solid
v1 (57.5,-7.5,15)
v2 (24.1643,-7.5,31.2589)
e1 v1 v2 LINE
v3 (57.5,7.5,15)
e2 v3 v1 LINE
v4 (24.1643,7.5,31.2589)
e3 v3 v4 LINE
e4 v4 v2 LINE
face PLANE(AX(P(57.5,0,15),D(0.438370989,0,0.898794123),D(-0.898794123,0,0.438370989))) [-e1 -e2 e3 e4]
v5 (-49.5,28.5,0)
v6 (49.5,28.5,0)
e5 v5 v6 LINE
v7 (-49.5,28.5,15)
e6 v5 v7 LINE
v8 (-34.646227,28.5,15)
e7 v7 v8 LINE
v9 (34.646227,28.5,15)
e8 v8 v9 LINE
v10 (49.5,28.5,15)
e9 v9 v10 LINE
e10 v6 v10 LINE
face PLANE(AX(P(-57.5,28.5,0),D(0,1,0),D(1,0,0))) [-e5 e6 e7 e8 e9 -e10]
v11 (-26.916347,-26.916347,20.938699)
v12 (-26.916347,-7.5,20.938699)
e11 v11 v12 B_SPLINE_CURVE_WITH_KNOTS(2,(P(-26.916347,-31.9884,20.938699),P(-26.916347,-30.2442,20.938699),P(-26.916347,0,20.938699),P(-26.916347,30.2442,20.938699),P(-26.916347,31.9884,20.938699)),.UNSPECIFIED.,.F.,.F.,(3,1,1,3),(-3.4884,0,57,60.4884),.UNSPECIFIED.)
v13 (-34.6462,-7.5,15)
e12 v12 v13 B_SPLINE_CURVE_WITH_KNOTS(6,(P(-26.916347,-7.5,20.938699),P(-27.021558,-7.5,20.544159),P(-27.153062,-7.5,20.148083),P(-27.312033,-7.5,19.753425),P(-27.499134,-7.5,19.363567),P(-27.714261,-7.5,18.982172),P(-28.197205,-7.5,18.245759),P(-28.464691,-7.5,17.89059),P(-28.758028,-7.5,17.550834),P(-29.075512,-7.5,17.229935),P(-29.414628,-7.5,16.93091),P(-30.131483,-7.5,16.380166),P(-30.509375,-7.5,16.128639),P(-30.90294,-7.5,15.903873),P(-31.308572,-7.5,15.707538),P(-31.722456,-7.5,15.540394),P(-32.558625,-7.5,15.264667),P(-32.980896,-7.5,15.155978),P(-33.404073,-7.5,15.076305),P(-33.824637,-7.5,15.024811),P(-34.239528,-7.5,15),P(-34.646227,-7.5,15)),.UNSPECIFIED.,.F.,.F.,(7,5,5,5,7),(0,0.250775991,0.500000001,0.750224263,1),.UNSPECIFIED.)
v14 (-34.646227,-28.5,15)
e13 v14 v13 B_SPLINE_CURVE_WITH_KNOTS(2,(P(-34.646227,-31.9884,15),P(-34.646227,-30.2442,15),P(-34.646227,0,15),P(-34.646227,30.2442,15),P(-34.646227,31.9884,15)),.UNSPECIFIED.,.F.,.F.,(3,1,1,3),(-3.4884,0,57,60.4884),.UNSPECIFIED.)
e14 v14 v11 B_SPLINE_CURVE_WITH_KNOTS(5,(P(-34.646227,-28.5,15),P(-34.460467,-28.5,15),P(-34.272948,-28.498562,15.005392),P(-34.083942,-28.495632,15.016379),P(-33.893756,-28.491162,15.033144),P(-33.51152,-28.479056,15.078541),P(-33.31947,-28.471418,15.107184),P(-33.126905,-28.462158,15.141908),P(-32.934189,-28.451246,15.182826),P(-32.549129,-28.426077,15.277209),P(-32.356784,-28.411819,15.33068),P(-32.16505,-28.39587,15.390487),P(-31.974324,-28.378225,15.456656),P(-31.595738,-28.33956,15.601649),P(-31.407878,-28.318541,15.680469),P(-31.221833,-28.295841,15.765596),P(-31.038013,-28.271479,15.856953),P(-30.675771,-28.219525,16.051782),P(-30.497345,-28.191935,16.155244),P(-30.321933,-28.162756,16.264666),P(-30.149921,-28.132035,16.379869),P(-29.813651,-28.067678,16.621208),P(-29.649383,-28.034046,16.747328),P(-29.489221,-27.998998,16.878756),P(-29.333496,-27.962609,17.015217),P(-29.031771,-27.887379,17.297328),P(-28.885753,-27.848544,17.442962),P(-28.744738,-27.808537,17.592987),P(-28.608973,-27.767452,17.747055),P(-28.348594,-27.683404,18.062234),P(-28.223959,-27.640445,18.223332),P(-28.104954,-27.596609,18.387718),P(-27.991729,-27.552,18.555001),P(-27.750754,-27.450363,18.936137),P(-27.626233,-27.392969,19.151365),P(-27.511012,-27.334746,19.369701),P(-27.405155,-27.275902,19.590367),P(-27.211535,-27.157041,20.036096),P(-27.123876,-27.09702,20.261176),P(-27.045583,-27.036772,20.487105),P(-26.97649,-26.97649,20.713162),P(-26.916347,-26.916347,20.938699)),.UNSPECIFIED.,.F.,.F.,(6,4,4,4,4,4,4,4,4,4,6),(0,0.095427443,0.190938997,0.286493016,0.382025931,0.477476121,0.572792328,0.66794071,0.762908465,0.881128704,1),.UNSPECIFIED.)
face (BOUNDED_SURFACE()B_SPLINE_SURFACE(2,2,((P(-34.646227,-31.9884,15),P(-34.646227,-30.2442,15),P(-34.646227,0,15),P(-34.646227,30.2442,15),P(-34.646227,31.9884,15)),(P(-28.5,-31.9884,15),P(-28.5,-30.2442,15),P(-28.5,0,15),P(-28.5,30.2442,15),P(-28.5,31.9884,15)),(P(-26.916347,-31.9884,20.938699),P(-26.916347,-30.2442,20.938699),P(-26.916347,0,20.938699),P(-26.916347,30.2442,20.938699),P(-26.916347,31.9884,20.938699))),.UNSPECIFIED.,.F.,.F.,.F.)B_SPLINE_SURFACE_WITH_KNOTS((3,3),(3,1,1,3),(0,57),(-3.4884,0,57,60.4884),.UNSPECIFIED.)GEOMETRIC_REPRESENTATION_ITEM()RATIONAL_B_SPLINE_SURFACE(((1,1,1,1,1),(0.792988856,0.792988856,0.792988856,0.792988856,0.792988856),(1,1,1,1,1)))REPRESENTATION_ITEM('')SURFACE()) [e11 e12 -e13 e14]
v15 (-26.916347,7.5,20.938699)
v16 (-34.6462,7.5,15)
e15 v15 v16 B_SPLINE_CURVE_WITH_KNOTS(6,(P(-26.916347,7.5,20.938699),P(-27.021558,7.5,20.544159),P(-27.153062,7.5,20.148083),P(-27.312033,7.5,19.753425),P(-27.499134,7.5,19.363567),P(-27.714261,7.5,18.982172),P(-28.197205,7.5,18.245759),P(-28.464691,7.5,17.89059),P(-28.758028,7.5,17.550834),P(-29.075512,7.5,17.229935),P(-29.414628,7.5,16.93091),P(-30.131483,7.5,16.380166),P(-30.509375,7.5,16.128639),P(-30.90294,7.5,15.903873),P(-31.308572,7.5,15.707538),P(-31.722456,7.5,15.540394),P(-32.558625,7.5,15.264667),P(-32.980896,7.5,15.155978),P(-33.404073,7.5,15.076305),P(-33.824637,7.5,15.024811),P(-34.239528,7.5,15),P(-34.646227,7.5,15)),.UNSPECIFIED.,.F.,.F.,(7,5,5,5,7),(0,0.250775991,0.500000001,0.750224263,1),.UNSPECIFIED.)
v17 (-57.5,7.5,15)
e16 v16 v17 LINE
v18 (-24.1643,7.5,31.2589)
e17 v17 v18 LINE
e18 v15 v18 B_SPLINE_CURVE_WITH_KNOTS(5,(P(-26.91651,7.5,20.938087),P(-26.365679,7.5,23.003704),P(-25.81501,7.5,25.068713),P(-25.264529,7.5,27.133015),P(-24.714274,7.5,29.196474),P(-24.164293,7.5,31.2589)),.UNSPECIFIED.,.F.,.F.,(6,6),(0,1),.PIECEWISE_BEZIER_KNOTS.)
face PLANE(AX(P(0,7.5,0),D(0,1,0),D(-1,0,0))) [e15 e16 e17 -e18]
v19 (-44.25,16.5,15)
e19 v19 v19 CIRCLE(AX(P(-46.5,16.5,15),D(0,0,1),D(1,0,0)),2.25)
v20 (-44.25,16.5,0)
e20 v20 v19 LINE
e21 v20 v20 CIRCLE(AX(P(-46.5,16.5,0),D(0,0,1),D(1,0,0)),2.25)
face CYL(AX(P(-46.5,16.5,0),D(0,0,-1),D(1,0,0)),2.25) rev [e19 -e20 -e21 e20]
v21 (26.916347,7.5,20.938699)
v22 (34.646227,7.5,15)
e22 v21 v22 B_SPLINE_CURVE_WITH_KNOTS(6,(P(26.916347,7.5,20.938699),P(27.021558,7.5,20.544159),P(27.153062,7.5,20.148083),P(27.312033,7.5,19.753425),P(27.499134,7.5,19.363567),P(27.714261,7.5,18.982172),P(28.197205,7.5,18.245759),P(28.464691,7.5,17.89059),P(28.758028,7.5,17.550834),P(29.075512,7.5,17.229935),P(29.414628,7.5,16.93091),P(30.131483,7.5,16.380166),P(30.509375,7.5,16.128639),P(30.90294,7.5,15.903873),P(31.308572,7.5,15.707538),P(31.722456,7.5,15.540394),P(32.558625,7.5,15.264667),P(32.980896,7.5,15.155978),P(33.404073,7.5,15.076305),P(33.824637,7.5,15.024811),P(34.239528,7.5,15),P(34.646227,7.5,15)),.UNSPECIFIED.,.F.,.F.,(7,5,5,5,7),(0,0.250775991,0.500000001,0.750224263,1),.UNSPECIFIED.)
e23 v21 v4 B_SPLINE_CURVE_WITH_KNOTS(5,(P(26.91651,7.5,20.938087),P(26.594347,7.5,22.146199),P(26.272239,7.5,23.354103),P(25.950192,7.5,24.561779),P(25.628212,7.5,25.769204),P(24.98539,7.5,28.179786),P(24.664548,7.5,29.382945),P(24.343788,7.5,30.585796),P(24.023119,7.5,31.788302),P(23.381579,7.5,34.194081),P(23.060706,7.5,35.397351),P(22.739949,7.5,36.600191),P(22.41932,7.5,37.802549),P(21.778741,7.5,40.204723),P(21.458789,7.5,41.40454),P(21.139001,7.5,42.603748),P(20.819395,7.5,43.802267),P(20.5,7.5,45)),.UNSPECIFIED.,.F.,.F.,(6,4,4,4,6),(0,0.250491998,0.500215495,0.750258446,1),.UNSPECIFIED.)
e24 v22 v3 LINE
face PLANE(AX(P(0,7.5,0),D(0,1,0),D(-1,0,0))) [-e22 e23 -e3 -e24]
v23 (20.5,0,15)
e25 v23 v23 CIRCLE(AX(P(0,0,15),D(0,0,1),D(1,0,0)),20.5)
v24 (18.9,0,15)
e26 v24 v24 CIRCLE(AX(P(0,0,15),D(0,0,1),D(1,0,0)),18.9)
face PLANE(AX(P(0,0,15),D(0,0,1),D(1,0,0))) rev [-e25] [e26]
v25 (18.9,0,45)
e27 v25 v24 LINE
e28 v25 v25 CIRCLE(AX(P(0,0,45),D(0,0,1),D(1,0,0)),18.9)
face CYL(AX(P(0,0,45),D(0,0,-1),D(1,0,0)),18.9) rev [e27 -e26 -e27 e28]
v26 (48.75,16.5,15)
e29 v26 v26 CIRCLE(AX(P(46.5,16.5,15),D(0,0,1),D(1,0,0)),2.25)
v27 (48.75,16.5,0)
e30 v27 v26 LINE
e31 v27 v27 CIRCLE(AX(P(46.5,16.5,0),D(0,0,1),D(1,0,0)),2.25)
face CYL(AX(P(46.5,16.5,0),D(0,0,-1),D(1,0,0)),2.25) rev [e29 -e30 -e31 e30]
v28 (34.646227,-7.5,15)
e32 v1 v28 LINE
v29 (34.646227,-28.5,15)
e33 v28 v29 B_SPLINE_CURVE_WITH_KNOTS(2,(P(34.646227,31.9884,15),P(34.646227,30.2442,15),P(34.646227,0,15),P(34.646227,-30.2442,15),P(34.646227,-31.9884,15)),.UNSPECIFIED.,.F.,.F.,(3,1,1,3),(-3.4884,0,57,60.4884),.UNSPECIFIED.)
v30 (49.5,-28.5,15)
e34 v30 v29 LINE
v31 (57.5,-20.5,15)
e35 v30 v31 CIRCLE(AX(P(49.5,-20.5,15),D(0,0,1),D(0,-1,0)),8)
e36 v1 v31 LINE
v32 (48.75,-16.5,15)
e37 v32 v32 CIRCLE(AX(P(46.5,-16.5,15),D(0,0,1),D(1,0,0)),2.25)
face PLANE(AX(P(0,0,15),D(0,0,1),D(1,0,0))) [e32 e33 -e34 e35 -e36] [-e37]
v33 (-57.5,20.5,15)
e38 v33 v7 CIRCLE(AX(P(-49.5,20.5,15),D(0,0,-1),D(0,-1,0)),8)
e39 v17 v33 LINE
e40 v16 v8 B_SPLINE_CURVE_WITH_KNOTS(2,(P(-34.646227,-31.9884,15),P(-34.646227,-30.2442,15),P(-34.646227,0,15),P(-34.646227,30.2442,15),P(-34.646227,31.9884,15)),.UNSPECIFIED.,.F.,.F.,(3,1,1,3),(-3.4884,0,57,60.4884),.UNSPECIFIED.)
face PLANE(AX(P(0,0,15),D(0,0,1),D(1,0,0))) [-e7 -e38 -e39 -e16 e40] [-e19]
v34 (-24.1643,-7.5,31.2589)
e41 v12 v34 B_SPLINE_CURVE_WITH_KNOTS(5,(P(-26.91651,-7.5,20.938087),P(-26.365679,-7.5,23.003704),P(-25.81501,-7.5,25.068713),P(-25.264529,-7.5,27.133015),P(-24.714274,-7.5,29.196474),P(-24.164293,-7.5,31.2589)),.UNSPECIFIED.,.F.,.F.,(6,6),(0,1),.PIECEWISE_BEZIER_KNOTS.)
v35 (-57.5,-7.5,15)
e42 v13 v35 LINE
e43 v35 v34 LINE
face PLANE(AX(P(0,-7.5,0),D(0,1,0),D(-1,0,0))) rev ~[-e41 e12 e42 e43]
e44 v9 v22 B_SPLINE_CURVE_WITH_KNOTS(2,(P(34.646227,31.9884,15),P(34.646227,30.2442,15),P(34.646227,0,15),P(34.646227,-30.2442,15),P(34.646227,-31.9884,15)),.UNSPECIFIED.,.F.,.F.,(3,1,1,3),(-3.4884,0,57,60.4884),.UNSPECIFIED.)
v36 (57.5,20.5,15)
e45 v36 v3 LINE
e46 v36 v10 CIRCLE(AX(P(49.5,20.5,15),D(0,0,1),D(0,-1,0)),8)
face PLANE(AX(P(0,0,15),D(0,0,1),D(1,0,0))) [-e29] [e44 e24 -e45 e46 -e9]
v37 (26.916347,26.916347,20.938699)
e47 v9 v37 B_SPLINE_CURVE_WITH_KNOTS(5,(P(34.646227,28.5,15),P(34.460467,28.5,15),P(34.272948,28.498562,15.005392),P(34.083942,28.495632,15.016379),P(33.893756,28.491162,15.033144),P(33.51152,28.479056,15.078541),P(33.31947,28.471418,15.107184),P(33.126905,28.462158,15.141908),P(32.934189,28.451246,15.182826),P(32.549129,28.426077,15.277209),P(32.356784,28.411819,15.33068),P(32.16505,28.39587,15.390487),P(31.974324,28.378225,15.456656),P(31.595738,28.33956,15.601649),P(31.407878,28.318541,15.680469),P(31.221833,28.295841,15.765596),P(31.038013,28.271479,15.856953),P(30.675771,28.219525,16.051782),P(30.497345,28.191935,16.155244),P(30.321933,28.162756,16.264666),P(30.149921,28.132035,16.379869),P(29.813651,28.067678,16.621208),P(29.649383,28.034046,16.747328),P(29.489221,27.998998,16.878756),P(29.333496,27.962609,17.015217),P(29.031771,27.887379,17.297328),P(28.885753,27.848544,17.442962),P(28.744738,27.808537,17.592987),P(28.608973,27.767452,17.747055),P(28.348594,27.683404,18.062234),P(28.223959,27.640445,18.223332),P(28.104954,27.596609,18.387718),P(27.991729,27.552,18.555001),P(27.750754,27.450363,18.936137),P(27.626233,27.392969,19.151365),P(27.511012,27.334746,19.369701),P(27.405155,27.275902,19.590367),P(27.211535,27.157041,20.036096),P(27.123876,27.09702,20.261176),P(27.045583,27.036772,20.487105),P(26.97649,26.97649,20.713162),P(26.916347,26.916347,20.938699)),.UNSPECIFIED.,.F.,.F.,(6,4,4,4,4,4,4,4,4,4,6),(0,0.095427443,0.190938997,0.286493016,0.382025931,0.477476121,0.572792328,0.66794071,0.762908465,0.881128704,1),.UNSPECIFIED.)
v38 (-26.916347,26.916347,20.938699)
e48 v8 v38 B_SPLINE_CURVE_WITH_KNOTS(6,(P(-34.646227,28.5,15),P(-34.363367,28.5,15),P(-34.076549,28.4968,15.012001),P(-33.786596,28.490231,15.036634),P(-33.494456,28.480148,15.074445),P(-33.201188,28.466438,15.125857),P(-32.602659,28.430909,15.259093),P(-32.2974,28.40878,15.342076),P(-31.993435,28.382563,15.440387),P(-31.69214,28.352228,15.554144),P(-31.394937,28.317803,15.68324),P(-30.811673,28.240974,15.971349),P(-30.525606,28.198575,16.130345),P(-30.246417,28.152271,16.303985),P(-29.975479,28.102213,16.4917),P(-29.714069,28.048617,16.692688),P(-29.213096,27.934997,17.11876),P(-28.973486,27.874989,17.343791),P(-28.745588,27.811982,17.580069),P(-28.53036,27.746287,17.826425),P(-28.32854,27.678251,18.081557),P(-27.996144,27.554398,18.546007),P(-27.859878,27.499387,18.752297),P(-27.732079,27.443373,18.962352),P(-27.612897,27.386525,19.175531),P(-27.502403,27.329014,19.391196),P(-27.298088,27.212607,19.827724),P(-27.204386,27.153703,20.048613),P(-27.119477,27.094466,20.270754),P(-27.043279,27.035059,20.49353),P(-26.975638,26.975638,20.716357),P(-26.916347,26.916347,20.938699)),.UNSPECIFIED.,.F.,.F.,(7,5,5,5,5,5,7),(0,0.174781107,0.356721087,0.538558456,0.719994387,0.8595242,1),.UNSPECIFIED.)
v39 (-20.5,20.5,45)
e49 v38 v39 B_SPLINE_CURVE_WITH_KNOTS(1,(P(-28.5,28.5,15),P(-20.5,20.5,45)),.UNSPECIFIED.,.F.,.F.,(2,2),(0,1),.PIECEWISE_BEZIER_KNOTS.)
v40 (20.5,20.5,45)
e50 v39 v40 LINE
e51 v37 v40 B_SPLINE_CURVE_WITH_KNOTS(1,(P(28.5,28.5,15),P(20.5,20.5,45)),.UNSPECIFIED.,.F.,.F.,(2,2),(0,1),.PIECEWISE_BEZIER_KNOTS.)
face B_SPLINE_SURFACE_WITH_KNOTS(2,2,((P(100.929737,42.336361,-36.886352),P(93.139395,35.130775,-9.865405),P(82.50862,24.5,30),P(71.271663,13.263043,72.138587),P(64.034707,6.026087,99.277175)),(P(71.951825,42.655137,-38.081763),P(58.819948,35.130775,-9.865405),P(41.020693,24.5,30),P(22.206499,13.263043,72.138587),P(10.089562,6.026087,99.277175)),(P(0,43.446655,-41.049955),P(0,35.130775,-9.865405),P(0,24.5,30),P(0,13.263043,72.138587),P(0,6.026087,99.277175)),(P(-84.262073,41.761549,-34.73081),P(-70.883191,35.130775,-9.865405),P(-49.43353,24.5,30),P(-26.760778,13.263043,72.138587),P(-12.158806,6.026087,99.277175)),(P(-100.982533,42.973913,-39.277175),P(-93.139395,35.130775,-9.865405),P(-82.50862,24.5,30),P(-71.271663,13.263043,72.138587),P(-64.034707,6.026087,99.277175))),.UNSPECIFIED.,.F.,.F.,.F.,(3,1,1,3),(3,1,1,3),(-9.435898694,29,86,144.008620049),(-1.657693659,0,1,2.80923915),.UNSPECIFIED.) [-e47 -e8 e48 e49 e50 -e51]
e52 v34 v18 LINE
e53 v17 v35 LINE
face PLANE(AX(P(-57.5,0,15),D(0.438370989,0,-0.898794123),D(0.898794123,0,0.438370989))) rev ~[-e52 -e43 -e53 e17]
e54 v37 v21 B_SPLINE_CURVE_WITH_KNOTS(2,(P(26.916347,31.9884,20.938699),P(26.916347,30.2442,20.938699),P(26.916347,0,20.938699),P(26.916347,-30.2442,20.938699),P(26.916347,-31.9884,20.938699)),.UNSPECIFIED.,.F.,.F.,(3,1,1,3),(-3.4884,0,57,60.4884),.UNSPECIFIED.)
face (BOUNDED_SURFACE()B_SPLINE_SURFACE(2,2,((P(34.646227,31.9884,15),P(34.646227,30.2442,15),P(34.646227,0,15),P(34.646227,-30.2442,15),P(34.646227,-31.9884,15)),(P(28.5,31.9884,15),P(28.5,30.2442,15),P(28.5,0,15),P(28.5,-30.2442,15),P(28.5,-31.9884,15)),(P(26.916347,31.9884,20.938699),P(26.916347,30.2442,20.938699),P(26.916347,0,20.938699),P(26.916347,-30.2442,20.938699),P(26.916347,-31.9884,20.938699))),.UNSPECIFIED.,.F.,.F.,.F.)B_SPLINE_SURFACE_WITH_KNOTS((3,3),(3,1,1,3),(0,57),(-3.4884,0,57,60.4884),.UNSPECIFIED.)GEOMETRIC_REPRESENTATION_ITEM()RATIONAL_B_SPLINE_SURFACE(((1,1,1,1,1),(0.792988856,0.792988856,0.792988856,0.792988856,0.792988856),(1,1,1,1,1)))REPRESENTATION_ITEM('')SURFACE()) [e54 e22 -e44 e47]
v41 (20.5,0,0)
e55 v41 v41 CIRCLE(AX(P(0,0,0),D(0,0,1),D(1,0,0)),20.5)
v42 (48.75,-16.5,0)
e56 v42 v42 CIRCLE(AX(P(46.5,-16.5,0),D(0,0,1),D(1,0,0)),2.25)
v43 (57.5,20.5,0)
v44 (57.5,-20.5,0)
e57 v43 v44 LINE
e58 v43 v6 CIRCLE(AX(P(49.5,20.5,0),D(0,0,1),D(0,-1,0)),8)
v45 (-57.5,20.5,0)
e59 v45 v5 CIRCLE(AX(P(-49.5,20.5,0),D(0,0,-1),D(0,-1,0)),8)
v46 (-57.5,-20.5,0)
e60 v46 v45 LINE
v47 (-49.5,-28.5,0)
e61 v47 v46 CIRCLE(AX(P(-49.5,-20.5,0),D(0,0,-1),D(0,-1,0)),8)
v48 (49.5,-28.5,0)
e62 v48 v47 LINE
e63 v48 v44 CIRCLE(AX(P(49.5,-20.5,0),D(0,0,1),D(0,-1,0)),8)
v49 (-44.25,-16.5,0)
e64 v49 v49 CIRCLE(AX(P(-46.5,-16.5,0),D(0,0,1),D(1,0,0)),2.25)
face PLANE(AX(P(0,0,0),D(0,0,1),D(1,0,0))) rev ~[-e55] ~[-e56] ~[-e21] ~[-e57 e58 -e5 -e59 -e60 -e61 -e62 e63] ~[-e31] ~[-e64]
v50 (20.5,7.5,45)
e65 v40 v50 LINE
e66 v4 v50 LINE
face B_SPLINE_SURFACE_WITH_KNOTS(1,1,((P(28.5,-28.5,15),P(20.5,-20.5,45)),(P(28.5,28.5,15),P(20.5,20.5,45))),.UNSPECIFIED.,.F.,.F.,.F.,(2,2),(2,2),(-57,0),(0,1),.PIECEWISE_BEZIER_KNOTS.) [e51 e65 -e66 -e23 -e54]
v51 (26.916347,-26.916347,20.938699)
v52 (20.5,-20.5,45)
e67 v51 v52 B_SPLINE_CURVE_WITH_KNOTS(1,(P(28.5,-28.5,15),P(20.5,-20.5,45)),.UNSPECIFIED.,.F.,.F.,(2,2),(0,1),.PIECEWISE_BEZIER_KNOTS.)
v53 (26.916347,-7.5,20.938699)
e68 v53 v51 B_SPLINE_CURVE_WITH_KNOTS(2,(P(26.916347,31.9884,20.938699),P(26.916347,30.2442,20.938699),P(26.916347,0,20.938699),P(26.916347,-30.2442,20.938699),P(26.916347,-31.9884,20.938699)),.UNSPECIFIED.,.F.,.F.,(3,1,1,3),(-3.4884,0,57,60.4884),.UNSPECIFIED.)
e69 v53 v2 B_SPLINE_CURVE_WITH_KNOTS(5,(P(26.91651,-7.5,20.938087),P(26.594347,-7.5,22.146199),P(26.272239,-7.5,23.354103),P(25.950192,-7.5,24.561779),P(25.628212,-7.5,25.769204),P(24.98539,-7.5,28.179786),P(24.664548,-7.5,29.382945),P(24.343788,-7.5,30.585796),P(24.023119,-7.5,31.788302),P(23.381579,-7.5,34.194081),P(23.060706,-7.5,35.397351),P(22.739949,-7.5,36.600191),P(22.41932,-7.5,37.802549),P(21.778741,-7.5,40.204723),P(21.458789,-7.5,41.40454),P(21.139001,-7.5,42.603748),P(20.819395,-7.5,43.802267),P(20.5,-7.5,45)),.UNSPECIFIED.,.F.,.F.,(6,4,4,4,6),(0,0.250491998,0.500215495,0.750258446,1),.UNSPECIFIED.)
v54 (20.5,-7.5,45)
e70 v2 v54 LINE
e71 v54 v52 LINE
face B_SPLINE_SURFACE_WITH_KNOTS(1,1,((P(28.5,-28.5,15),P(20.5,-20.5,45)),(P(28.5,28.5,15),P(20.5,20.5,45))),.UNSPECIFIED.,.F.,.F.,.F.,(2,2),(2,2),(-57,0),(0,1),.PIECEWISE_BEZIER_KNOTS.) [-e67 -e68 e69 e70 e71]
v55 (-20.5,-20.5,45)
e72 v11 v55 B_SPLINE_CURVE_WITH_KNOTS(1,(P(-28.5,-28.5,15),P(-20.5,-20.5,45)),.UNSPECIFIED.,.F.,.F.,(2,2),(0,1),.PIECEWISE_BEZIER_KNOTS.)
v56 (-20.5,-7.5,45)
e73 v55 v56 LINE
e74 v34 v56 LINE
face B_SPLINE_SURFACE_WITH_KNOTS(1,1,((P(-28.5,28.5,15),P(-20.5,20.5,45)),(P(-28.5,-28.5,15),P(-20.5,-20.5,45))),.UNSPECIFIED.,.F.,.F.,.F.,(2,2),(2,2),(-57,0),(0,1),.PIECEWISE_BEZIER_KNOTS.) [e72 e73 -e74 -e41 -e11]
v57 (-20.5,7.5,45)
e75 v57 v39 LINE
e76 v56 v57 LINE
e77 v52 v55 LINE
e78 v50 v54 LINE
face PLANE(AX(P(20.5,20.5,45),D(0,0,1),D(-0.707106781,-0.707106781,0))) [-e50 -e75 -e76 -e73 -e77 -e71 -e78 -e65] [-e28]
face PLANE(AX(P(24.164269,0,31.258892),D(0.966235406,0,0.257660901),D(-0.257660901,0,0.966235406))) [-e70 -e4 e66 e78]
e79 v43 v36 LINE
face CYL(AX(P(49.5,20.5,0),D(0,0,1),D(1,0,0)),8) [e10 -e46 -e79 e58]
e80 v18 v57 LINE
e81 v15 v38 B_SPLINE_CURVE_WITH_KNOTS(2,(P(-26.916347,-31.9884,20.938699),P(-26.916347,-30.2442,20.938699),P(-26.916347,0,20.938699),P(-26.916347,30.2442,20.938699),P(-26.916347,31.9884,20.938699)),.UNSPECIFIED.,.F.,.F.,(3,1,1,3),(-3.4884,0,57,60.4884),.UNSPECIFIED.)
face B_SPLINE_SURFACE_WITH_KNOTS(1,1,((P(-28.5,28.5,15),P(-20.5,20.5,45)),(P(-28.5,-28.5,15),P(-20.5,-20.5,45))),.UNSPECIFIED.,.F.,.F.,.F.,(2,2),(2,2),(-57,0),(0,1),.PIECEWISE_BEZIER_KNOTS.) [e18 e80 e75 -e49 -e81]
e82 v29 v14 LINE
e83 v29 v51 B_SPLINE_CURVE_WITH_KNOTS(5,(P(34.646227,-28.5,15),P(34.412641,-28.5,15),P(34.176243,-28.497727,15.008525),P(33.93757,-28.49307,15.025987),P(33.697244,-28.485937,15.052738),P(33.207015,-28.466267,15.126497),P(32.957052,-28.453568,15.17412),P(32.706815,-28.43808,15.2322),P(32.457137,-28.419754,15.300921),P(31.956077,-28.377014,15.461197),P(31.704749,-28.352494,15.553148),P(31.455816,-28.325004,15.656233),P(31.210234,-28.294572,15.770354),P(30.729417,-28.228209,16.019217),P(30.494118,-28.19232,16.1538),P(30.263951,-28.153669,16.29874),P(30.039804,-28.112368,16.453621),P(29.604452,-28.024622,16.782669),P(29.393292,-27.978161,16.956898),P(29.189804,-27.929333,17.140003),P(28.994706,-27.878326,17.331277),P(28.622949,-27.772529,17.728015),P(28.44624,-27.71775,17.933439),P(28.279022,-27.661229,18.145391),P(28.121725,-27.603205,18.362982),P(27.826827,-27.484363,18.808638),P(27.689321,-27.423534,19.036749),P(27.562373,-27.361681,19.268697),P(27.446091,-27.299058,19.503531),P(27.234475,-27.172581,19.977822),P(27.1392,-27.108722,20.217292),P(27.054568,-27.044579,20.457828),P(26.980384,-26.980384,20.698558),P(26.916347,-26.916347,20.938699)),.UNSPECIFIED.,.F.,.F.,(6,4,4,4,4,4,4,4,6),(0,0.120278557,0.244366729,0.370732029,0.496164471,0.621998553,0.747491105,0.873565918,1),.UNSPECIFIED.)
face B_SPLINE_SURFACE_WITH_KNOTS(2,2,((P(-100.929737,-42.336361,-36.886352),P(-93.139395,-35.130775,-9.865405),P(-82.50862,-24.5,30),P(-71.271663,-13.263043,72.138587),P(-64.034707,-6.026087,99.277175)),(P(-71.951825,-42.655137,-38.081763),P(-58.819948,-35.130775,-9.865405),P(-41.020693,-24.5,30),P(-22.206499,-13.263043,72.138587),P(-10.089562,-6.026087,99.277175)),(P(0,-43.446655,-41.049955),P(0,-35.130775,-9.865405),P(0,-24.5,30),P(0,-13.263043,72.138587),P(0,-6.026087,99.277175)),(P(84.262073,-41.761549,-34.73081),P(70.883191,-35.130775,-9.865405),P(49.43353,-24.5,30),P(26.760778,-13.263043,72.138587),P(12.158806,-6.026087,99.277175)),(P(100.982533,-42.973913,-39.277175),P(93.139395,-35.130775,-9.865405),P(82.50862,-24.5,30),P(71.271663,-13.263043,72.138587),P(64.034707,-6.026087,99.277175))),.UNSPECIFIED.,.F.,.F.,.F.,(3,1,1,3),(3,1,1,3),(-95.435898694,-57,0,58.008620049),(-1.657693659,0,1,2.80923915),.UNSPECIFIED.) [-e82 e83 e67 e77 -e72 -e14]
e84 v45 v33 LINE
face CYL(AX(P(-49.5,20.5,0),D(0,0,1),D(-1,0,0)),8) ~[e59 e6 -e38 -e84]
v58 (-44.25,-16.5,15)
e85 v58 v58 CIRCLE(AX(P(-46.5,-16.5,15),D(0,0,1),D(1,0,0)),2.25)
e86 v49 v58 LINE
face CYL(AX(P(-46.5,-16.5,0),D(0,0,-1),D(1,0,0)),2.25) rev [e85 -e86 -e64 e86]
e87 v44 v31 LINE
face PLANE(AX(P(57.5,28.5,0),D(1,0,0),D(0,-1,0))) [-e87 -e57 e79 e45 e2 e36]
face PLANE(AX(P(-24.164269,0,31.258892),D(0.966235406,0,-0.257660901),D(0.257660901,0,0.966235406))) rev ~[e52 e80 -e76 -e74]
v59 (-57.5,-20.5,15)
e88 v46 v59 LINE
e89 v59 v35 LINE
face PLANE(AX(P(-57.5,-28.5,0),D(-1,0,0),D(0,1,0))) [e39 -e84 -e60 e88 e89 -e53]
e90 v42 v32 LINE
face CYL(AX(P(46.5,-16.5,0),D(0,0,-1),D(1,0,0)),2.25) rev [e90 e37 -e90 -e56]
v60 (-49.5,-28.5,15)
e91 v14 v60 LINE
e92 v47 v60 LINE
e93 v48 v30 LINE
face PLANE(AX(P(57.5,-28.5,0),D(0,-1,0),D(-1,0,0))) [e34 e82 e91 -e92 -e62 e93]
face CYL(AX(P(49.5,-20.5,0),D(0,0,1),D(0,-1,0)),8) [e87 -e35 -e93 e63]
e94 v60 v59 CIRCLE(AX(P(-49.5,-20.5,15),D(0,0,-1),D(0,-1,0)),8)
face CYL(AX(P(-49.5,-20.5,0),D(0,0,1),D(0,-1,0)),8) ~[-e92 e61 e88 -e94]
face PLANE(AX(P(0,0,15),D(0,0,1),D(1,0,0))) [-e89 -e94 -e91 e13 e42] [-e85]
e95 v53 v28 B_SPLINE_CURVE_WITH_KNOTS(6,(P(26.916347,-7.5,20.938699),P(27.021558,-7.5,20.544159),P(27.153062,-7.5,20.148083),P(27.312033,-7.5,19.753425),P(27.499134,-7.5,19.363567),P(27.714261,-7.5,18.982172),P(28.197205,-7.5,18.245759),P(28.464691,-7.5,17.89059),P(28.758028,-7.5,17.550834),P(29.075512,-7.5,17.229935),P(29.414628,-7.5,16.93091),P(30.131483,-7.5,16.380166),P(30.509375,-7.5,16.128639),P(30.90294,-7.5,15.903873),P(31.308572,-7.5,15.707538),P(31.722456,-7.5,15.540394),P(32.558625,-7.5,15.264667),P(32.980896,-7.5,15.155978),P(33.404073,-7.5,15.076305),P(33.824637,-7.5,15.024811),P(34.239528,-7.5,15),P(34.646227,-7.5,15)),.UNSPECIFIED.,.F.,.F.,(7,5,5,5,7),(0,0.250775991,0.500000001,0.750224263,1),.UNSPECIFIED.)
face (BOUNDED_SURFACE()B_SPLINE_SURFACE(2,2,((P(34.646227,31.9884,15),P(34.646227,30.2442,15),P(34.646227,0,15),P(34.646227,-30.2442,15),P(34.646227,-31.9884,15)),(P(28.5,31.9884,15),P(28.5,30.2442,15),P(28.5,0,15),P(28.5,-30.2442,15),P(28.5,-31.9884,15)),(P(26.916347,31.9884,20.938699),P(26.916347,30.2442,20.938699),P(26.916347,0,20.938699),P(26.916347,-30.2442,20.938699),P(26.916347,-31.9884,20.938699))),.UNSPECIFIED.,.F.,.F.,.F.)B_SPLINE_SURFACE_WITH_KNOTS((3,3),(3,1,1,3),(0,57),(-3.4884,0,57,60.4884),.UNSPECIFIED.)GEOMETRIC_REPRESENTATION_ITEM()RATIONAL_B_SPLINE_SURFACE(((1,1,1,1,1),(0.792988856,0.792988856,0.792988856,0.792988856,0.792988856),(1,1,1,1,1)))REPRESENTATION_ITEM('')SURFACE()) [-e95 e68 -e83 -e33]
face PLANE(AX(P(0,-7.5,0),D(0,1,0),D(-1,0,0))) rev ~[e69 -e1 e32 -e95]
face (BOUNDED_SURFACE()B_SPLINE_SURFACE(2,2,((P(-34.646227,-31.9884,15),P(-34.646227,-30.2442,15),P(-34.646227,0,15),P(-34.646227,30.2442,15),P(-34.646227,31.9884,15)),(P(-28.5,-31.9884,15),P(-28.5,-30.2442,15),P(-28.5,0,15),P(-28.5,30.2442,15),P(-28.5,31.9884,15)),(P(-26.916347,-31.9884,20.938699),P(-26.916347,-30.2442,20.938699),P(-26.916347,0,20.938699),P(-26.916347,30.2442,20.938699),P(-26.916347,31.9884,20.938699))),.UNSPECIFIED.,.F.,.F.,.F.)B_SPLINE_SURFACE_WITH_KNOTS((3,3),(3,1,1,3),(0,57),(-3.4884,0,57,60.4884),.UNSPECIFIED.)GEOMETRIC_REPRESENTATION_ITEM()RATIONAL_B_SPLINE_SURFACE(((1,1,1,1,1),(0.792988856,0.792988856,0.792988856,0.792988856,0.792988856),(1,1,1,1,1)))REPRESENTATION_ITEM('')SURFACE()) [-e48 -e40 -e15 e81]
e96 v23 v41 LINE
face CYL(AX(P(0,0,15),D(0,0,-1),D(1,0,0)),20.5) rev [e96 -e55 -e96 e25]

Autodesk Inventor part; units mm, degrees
ref_plane "YZ Plane" through (0, 0, 0) normal (1, 0, 0) x (0, 1, 0)
ref_plane "XZ Plane" through (0, 0, 0) normal (0, 1, 0) x (-1, 0, 0)
sketch "Sketch1" plane through (0, 0, 0) normal (0, 0, 1) x (1, 0, 0)
  line L0 (57.5, -28.5) -> (-57.5, -28.5)
  line L1 (-57.5, -28.5) -> (-57.5, 28.5)
  line L2 (-57.5, 28.5) -> (57.5, 28.5)
  line L3 (57.5, 28.5) -> (57.5, -28.5)
  line L4 (57.5, -28.5) -> (-57.5, 28.5) construction
  line L5 (-57.5, -28.5) -> (57.5, 28.5) construction
  line L6 (46.5, -16.5) -> (-46.5, -16.5) construction
  line L7 (-46.5, -16.5) -> (-46.5, 16.5) construction
  line L8 (-46.5, 16.5) -> (46.5, 16.5) construction
  line L9 (46.5, 16.5) -> (46.5, -16.5) construction
  line L10 (46.5, -16.5) -> (-46.5, 16.5) construction
  line L11 (-46.5, -16.5) -> (46.5, 16.5) construction
  line L12 (36, -11.5) -> (-36, -11.5) construction
  line L13 (-36, -11.5) -> (-36, 11.5) construction
  line L14 (-36, 11.5) -> (36, 11.5) construction
  line L15 (36, 11.5) -> (36, -11.5) construction
  line L16 (36, -11.5) -> (-36, 11.5) construction
  line L17 (-36, -11.5) -> (36, 11.5) construction
  circle A0 centre (-46.5, 16.5) radius 2.25
  circle A1 centre (-46.5, -16.5) radius 2.25
  circle A2 centre (46.5, -16.5) radius 2.25
  circle A3 centre (46.5, 16.5) radius 2.25
  point P0 (0, 0)
  dimension "d0" = 115
  dimension "d1" = 57
  dimension "d2" = 93
  dimension "d3" = 33
  dimension "d4" = 72
  dimension "d5" = 23
  dimension "d6" = 4.5
extrude "Extrusion1" add sketch "Sketch1" along normal blind 15
sketch "Sketch6" plane through (0, 0, 15) normal (0, 0, 1) x (1, 0, 0)
  line L0 (57.5, 28.5) -> (-57.5, 28.5) projected
  line L1 (28.5, -28.5) -> (-28.5, -28.5)
  line L2 (-28.5, -28.5) -> (-28.5, 28.5)
  line L3 (-28.5, 28.5) -> (28.5, 28.5)
  line L4 (28.5, 28.5) -> (28.5, -28.5)
  line L5 (28.5, -28.5) -> (-28.5, 28.5) construction
  line L6 (-28.5, -28.5) -> (28.5, 28.5) construction
  point P0 (0, 0)
  dimension "d27" = 57
ref_plane "Work Plane1" through (0, 0, 45) normal (0, 0, 1) x (1, 0, 0)
sketch "Sketch7" plane through (0, 0, 45) normal (0, 0, 1) x (1, 0, 0)
  line L0 (20.5, -20.5) -> (-20.5, -20.5)
  line L1 (-20.5, -20.5) -> (-20.5, 20.5)
  line L2 (-20.5, 20.5) -> (20.5, 20.5)
  line L3 (20.5, 20.5) -> (20.5, -20.5)
  line L4 (20.5, -20.5) -> (-20.5, 20.5) construction
  line L5 (-20.5, -20.5) -> (20.5, 20.5) construction
  point P0 (0, 0)
  dimension "d29" = 41
  dimension "d30" = 41
loft "Loft1" add profiles "Sketch6", "Sketch7"
fillet "Fillet2" radius 8 2 edges at (28.5, 0, 15) (-28.5, 0, 15)
sketch "Sketch8" plane through (0, 0, 0) normal (0, 1, 0) x (-1, 0, 0)
  line L0 (-34.6462, 15) -> (34.6462, 15) projected
  arc A0 (26.9163, 20.9387) -> (34.6462, 15) centre (34.6462, 23) ccw projected
  line L1 (26.9163, 20.9387) -> (20.5, 45) projected
  line L2 (20.5, 45) -> (-20.5, 45) projected
  line L3 (-26.9163, 20.9387) -> (-20.5, 45) projected
  arc A1 (-34.6462, 15) -> (-26.9163, 20.9387) centre (-34.6462, 23) ccw projected
  line L4 (57.5, 0) -> (-57.5, 0) projected
  line L5 (57.5, 0) -> (57.5, 15) projected
  line L6 (34.6462, 15) -> (57.5, 15) projected
  line L7 (-34.6462, 15) -> (34.6462, 15) projected
  line L8 (-57.5, 15) -> (-34.6462, 15) projected
  line L9 (-57.5, 0) -> (-57.5, 15) projected
  line L10 (57.5, 15) -> (24.1643, 31.2589)
  line L11 (26.9163, 20.9387) -> (20.5, 45) projected
  line L12 (24.1643, 31.2589) -> (24.1643, 15)
  line L13 (57.5, 0) -> (57.5, 15) projected
  line L14 (24.1643, 15) -> (57.5, 15)
  line L15 (-57.5, 15) -> (-24.1643, 31.2589)
  line L16 (-24.1643, 31.2589) -> (-24.1643, 15)
  line L17 (-34.6462, 15) -> (34.6462, 15) projected
  line L18 (-57.5, 15) -> (-34.6462, 15) projected
  line L19 (-24.1643, 15) -> (-57.5, 15)
  point P0 (0, 0)
  dimension "d36" = 26
  dimension "d37" = 26
extrude "Extrusion5" add sketch "Sketch8" along normal mid plane 15 contours A1 L3 L16 L0 | L8 L15 L3 A1 | L16 L3 L2 L1 L12 L0 | A0 L1 L10 L6
fillet "Fillet3" radius 8 4 edges at (-57.5, 28.5, 7.5) (-57.5, -28.5, 7.5) (57.5, -28.5, 7.5) (57.5, 28.5, 7.5)
sketch "Sketch9" plane through (0, 0, 0) normal (0, 1, 0) x (-1, 0, 0)
  line L0 (0, -9) -> (0, 54) projected
  line L1 (0, 0) -> (0, 45)
  line L2 (20.5, 45) -> (-20.5, 45) projected
  line L3 (0, 45) -> (-18.9, 45)
  line L4 (-18.9, 45) -> (-18.9, 15)
  line L5 (-18.9, 15) -> (-20.5, 15)
  line L6 (-20.5, 15) -> (-20.5, 0)
  line L7 (-20.5, 0) -> (0, 0)
  dimension "d41" = 37.8
  dimension "d42" = 41
  dimension "d43" = 15
revolve "Revolution2" cut sketch "Sketch9" angle 360 about axis through (0, 0, -10) along (0, 0, 1)
equation "\"d37\" = d36"
properties part number "sujetador guia ejercedor presion"
